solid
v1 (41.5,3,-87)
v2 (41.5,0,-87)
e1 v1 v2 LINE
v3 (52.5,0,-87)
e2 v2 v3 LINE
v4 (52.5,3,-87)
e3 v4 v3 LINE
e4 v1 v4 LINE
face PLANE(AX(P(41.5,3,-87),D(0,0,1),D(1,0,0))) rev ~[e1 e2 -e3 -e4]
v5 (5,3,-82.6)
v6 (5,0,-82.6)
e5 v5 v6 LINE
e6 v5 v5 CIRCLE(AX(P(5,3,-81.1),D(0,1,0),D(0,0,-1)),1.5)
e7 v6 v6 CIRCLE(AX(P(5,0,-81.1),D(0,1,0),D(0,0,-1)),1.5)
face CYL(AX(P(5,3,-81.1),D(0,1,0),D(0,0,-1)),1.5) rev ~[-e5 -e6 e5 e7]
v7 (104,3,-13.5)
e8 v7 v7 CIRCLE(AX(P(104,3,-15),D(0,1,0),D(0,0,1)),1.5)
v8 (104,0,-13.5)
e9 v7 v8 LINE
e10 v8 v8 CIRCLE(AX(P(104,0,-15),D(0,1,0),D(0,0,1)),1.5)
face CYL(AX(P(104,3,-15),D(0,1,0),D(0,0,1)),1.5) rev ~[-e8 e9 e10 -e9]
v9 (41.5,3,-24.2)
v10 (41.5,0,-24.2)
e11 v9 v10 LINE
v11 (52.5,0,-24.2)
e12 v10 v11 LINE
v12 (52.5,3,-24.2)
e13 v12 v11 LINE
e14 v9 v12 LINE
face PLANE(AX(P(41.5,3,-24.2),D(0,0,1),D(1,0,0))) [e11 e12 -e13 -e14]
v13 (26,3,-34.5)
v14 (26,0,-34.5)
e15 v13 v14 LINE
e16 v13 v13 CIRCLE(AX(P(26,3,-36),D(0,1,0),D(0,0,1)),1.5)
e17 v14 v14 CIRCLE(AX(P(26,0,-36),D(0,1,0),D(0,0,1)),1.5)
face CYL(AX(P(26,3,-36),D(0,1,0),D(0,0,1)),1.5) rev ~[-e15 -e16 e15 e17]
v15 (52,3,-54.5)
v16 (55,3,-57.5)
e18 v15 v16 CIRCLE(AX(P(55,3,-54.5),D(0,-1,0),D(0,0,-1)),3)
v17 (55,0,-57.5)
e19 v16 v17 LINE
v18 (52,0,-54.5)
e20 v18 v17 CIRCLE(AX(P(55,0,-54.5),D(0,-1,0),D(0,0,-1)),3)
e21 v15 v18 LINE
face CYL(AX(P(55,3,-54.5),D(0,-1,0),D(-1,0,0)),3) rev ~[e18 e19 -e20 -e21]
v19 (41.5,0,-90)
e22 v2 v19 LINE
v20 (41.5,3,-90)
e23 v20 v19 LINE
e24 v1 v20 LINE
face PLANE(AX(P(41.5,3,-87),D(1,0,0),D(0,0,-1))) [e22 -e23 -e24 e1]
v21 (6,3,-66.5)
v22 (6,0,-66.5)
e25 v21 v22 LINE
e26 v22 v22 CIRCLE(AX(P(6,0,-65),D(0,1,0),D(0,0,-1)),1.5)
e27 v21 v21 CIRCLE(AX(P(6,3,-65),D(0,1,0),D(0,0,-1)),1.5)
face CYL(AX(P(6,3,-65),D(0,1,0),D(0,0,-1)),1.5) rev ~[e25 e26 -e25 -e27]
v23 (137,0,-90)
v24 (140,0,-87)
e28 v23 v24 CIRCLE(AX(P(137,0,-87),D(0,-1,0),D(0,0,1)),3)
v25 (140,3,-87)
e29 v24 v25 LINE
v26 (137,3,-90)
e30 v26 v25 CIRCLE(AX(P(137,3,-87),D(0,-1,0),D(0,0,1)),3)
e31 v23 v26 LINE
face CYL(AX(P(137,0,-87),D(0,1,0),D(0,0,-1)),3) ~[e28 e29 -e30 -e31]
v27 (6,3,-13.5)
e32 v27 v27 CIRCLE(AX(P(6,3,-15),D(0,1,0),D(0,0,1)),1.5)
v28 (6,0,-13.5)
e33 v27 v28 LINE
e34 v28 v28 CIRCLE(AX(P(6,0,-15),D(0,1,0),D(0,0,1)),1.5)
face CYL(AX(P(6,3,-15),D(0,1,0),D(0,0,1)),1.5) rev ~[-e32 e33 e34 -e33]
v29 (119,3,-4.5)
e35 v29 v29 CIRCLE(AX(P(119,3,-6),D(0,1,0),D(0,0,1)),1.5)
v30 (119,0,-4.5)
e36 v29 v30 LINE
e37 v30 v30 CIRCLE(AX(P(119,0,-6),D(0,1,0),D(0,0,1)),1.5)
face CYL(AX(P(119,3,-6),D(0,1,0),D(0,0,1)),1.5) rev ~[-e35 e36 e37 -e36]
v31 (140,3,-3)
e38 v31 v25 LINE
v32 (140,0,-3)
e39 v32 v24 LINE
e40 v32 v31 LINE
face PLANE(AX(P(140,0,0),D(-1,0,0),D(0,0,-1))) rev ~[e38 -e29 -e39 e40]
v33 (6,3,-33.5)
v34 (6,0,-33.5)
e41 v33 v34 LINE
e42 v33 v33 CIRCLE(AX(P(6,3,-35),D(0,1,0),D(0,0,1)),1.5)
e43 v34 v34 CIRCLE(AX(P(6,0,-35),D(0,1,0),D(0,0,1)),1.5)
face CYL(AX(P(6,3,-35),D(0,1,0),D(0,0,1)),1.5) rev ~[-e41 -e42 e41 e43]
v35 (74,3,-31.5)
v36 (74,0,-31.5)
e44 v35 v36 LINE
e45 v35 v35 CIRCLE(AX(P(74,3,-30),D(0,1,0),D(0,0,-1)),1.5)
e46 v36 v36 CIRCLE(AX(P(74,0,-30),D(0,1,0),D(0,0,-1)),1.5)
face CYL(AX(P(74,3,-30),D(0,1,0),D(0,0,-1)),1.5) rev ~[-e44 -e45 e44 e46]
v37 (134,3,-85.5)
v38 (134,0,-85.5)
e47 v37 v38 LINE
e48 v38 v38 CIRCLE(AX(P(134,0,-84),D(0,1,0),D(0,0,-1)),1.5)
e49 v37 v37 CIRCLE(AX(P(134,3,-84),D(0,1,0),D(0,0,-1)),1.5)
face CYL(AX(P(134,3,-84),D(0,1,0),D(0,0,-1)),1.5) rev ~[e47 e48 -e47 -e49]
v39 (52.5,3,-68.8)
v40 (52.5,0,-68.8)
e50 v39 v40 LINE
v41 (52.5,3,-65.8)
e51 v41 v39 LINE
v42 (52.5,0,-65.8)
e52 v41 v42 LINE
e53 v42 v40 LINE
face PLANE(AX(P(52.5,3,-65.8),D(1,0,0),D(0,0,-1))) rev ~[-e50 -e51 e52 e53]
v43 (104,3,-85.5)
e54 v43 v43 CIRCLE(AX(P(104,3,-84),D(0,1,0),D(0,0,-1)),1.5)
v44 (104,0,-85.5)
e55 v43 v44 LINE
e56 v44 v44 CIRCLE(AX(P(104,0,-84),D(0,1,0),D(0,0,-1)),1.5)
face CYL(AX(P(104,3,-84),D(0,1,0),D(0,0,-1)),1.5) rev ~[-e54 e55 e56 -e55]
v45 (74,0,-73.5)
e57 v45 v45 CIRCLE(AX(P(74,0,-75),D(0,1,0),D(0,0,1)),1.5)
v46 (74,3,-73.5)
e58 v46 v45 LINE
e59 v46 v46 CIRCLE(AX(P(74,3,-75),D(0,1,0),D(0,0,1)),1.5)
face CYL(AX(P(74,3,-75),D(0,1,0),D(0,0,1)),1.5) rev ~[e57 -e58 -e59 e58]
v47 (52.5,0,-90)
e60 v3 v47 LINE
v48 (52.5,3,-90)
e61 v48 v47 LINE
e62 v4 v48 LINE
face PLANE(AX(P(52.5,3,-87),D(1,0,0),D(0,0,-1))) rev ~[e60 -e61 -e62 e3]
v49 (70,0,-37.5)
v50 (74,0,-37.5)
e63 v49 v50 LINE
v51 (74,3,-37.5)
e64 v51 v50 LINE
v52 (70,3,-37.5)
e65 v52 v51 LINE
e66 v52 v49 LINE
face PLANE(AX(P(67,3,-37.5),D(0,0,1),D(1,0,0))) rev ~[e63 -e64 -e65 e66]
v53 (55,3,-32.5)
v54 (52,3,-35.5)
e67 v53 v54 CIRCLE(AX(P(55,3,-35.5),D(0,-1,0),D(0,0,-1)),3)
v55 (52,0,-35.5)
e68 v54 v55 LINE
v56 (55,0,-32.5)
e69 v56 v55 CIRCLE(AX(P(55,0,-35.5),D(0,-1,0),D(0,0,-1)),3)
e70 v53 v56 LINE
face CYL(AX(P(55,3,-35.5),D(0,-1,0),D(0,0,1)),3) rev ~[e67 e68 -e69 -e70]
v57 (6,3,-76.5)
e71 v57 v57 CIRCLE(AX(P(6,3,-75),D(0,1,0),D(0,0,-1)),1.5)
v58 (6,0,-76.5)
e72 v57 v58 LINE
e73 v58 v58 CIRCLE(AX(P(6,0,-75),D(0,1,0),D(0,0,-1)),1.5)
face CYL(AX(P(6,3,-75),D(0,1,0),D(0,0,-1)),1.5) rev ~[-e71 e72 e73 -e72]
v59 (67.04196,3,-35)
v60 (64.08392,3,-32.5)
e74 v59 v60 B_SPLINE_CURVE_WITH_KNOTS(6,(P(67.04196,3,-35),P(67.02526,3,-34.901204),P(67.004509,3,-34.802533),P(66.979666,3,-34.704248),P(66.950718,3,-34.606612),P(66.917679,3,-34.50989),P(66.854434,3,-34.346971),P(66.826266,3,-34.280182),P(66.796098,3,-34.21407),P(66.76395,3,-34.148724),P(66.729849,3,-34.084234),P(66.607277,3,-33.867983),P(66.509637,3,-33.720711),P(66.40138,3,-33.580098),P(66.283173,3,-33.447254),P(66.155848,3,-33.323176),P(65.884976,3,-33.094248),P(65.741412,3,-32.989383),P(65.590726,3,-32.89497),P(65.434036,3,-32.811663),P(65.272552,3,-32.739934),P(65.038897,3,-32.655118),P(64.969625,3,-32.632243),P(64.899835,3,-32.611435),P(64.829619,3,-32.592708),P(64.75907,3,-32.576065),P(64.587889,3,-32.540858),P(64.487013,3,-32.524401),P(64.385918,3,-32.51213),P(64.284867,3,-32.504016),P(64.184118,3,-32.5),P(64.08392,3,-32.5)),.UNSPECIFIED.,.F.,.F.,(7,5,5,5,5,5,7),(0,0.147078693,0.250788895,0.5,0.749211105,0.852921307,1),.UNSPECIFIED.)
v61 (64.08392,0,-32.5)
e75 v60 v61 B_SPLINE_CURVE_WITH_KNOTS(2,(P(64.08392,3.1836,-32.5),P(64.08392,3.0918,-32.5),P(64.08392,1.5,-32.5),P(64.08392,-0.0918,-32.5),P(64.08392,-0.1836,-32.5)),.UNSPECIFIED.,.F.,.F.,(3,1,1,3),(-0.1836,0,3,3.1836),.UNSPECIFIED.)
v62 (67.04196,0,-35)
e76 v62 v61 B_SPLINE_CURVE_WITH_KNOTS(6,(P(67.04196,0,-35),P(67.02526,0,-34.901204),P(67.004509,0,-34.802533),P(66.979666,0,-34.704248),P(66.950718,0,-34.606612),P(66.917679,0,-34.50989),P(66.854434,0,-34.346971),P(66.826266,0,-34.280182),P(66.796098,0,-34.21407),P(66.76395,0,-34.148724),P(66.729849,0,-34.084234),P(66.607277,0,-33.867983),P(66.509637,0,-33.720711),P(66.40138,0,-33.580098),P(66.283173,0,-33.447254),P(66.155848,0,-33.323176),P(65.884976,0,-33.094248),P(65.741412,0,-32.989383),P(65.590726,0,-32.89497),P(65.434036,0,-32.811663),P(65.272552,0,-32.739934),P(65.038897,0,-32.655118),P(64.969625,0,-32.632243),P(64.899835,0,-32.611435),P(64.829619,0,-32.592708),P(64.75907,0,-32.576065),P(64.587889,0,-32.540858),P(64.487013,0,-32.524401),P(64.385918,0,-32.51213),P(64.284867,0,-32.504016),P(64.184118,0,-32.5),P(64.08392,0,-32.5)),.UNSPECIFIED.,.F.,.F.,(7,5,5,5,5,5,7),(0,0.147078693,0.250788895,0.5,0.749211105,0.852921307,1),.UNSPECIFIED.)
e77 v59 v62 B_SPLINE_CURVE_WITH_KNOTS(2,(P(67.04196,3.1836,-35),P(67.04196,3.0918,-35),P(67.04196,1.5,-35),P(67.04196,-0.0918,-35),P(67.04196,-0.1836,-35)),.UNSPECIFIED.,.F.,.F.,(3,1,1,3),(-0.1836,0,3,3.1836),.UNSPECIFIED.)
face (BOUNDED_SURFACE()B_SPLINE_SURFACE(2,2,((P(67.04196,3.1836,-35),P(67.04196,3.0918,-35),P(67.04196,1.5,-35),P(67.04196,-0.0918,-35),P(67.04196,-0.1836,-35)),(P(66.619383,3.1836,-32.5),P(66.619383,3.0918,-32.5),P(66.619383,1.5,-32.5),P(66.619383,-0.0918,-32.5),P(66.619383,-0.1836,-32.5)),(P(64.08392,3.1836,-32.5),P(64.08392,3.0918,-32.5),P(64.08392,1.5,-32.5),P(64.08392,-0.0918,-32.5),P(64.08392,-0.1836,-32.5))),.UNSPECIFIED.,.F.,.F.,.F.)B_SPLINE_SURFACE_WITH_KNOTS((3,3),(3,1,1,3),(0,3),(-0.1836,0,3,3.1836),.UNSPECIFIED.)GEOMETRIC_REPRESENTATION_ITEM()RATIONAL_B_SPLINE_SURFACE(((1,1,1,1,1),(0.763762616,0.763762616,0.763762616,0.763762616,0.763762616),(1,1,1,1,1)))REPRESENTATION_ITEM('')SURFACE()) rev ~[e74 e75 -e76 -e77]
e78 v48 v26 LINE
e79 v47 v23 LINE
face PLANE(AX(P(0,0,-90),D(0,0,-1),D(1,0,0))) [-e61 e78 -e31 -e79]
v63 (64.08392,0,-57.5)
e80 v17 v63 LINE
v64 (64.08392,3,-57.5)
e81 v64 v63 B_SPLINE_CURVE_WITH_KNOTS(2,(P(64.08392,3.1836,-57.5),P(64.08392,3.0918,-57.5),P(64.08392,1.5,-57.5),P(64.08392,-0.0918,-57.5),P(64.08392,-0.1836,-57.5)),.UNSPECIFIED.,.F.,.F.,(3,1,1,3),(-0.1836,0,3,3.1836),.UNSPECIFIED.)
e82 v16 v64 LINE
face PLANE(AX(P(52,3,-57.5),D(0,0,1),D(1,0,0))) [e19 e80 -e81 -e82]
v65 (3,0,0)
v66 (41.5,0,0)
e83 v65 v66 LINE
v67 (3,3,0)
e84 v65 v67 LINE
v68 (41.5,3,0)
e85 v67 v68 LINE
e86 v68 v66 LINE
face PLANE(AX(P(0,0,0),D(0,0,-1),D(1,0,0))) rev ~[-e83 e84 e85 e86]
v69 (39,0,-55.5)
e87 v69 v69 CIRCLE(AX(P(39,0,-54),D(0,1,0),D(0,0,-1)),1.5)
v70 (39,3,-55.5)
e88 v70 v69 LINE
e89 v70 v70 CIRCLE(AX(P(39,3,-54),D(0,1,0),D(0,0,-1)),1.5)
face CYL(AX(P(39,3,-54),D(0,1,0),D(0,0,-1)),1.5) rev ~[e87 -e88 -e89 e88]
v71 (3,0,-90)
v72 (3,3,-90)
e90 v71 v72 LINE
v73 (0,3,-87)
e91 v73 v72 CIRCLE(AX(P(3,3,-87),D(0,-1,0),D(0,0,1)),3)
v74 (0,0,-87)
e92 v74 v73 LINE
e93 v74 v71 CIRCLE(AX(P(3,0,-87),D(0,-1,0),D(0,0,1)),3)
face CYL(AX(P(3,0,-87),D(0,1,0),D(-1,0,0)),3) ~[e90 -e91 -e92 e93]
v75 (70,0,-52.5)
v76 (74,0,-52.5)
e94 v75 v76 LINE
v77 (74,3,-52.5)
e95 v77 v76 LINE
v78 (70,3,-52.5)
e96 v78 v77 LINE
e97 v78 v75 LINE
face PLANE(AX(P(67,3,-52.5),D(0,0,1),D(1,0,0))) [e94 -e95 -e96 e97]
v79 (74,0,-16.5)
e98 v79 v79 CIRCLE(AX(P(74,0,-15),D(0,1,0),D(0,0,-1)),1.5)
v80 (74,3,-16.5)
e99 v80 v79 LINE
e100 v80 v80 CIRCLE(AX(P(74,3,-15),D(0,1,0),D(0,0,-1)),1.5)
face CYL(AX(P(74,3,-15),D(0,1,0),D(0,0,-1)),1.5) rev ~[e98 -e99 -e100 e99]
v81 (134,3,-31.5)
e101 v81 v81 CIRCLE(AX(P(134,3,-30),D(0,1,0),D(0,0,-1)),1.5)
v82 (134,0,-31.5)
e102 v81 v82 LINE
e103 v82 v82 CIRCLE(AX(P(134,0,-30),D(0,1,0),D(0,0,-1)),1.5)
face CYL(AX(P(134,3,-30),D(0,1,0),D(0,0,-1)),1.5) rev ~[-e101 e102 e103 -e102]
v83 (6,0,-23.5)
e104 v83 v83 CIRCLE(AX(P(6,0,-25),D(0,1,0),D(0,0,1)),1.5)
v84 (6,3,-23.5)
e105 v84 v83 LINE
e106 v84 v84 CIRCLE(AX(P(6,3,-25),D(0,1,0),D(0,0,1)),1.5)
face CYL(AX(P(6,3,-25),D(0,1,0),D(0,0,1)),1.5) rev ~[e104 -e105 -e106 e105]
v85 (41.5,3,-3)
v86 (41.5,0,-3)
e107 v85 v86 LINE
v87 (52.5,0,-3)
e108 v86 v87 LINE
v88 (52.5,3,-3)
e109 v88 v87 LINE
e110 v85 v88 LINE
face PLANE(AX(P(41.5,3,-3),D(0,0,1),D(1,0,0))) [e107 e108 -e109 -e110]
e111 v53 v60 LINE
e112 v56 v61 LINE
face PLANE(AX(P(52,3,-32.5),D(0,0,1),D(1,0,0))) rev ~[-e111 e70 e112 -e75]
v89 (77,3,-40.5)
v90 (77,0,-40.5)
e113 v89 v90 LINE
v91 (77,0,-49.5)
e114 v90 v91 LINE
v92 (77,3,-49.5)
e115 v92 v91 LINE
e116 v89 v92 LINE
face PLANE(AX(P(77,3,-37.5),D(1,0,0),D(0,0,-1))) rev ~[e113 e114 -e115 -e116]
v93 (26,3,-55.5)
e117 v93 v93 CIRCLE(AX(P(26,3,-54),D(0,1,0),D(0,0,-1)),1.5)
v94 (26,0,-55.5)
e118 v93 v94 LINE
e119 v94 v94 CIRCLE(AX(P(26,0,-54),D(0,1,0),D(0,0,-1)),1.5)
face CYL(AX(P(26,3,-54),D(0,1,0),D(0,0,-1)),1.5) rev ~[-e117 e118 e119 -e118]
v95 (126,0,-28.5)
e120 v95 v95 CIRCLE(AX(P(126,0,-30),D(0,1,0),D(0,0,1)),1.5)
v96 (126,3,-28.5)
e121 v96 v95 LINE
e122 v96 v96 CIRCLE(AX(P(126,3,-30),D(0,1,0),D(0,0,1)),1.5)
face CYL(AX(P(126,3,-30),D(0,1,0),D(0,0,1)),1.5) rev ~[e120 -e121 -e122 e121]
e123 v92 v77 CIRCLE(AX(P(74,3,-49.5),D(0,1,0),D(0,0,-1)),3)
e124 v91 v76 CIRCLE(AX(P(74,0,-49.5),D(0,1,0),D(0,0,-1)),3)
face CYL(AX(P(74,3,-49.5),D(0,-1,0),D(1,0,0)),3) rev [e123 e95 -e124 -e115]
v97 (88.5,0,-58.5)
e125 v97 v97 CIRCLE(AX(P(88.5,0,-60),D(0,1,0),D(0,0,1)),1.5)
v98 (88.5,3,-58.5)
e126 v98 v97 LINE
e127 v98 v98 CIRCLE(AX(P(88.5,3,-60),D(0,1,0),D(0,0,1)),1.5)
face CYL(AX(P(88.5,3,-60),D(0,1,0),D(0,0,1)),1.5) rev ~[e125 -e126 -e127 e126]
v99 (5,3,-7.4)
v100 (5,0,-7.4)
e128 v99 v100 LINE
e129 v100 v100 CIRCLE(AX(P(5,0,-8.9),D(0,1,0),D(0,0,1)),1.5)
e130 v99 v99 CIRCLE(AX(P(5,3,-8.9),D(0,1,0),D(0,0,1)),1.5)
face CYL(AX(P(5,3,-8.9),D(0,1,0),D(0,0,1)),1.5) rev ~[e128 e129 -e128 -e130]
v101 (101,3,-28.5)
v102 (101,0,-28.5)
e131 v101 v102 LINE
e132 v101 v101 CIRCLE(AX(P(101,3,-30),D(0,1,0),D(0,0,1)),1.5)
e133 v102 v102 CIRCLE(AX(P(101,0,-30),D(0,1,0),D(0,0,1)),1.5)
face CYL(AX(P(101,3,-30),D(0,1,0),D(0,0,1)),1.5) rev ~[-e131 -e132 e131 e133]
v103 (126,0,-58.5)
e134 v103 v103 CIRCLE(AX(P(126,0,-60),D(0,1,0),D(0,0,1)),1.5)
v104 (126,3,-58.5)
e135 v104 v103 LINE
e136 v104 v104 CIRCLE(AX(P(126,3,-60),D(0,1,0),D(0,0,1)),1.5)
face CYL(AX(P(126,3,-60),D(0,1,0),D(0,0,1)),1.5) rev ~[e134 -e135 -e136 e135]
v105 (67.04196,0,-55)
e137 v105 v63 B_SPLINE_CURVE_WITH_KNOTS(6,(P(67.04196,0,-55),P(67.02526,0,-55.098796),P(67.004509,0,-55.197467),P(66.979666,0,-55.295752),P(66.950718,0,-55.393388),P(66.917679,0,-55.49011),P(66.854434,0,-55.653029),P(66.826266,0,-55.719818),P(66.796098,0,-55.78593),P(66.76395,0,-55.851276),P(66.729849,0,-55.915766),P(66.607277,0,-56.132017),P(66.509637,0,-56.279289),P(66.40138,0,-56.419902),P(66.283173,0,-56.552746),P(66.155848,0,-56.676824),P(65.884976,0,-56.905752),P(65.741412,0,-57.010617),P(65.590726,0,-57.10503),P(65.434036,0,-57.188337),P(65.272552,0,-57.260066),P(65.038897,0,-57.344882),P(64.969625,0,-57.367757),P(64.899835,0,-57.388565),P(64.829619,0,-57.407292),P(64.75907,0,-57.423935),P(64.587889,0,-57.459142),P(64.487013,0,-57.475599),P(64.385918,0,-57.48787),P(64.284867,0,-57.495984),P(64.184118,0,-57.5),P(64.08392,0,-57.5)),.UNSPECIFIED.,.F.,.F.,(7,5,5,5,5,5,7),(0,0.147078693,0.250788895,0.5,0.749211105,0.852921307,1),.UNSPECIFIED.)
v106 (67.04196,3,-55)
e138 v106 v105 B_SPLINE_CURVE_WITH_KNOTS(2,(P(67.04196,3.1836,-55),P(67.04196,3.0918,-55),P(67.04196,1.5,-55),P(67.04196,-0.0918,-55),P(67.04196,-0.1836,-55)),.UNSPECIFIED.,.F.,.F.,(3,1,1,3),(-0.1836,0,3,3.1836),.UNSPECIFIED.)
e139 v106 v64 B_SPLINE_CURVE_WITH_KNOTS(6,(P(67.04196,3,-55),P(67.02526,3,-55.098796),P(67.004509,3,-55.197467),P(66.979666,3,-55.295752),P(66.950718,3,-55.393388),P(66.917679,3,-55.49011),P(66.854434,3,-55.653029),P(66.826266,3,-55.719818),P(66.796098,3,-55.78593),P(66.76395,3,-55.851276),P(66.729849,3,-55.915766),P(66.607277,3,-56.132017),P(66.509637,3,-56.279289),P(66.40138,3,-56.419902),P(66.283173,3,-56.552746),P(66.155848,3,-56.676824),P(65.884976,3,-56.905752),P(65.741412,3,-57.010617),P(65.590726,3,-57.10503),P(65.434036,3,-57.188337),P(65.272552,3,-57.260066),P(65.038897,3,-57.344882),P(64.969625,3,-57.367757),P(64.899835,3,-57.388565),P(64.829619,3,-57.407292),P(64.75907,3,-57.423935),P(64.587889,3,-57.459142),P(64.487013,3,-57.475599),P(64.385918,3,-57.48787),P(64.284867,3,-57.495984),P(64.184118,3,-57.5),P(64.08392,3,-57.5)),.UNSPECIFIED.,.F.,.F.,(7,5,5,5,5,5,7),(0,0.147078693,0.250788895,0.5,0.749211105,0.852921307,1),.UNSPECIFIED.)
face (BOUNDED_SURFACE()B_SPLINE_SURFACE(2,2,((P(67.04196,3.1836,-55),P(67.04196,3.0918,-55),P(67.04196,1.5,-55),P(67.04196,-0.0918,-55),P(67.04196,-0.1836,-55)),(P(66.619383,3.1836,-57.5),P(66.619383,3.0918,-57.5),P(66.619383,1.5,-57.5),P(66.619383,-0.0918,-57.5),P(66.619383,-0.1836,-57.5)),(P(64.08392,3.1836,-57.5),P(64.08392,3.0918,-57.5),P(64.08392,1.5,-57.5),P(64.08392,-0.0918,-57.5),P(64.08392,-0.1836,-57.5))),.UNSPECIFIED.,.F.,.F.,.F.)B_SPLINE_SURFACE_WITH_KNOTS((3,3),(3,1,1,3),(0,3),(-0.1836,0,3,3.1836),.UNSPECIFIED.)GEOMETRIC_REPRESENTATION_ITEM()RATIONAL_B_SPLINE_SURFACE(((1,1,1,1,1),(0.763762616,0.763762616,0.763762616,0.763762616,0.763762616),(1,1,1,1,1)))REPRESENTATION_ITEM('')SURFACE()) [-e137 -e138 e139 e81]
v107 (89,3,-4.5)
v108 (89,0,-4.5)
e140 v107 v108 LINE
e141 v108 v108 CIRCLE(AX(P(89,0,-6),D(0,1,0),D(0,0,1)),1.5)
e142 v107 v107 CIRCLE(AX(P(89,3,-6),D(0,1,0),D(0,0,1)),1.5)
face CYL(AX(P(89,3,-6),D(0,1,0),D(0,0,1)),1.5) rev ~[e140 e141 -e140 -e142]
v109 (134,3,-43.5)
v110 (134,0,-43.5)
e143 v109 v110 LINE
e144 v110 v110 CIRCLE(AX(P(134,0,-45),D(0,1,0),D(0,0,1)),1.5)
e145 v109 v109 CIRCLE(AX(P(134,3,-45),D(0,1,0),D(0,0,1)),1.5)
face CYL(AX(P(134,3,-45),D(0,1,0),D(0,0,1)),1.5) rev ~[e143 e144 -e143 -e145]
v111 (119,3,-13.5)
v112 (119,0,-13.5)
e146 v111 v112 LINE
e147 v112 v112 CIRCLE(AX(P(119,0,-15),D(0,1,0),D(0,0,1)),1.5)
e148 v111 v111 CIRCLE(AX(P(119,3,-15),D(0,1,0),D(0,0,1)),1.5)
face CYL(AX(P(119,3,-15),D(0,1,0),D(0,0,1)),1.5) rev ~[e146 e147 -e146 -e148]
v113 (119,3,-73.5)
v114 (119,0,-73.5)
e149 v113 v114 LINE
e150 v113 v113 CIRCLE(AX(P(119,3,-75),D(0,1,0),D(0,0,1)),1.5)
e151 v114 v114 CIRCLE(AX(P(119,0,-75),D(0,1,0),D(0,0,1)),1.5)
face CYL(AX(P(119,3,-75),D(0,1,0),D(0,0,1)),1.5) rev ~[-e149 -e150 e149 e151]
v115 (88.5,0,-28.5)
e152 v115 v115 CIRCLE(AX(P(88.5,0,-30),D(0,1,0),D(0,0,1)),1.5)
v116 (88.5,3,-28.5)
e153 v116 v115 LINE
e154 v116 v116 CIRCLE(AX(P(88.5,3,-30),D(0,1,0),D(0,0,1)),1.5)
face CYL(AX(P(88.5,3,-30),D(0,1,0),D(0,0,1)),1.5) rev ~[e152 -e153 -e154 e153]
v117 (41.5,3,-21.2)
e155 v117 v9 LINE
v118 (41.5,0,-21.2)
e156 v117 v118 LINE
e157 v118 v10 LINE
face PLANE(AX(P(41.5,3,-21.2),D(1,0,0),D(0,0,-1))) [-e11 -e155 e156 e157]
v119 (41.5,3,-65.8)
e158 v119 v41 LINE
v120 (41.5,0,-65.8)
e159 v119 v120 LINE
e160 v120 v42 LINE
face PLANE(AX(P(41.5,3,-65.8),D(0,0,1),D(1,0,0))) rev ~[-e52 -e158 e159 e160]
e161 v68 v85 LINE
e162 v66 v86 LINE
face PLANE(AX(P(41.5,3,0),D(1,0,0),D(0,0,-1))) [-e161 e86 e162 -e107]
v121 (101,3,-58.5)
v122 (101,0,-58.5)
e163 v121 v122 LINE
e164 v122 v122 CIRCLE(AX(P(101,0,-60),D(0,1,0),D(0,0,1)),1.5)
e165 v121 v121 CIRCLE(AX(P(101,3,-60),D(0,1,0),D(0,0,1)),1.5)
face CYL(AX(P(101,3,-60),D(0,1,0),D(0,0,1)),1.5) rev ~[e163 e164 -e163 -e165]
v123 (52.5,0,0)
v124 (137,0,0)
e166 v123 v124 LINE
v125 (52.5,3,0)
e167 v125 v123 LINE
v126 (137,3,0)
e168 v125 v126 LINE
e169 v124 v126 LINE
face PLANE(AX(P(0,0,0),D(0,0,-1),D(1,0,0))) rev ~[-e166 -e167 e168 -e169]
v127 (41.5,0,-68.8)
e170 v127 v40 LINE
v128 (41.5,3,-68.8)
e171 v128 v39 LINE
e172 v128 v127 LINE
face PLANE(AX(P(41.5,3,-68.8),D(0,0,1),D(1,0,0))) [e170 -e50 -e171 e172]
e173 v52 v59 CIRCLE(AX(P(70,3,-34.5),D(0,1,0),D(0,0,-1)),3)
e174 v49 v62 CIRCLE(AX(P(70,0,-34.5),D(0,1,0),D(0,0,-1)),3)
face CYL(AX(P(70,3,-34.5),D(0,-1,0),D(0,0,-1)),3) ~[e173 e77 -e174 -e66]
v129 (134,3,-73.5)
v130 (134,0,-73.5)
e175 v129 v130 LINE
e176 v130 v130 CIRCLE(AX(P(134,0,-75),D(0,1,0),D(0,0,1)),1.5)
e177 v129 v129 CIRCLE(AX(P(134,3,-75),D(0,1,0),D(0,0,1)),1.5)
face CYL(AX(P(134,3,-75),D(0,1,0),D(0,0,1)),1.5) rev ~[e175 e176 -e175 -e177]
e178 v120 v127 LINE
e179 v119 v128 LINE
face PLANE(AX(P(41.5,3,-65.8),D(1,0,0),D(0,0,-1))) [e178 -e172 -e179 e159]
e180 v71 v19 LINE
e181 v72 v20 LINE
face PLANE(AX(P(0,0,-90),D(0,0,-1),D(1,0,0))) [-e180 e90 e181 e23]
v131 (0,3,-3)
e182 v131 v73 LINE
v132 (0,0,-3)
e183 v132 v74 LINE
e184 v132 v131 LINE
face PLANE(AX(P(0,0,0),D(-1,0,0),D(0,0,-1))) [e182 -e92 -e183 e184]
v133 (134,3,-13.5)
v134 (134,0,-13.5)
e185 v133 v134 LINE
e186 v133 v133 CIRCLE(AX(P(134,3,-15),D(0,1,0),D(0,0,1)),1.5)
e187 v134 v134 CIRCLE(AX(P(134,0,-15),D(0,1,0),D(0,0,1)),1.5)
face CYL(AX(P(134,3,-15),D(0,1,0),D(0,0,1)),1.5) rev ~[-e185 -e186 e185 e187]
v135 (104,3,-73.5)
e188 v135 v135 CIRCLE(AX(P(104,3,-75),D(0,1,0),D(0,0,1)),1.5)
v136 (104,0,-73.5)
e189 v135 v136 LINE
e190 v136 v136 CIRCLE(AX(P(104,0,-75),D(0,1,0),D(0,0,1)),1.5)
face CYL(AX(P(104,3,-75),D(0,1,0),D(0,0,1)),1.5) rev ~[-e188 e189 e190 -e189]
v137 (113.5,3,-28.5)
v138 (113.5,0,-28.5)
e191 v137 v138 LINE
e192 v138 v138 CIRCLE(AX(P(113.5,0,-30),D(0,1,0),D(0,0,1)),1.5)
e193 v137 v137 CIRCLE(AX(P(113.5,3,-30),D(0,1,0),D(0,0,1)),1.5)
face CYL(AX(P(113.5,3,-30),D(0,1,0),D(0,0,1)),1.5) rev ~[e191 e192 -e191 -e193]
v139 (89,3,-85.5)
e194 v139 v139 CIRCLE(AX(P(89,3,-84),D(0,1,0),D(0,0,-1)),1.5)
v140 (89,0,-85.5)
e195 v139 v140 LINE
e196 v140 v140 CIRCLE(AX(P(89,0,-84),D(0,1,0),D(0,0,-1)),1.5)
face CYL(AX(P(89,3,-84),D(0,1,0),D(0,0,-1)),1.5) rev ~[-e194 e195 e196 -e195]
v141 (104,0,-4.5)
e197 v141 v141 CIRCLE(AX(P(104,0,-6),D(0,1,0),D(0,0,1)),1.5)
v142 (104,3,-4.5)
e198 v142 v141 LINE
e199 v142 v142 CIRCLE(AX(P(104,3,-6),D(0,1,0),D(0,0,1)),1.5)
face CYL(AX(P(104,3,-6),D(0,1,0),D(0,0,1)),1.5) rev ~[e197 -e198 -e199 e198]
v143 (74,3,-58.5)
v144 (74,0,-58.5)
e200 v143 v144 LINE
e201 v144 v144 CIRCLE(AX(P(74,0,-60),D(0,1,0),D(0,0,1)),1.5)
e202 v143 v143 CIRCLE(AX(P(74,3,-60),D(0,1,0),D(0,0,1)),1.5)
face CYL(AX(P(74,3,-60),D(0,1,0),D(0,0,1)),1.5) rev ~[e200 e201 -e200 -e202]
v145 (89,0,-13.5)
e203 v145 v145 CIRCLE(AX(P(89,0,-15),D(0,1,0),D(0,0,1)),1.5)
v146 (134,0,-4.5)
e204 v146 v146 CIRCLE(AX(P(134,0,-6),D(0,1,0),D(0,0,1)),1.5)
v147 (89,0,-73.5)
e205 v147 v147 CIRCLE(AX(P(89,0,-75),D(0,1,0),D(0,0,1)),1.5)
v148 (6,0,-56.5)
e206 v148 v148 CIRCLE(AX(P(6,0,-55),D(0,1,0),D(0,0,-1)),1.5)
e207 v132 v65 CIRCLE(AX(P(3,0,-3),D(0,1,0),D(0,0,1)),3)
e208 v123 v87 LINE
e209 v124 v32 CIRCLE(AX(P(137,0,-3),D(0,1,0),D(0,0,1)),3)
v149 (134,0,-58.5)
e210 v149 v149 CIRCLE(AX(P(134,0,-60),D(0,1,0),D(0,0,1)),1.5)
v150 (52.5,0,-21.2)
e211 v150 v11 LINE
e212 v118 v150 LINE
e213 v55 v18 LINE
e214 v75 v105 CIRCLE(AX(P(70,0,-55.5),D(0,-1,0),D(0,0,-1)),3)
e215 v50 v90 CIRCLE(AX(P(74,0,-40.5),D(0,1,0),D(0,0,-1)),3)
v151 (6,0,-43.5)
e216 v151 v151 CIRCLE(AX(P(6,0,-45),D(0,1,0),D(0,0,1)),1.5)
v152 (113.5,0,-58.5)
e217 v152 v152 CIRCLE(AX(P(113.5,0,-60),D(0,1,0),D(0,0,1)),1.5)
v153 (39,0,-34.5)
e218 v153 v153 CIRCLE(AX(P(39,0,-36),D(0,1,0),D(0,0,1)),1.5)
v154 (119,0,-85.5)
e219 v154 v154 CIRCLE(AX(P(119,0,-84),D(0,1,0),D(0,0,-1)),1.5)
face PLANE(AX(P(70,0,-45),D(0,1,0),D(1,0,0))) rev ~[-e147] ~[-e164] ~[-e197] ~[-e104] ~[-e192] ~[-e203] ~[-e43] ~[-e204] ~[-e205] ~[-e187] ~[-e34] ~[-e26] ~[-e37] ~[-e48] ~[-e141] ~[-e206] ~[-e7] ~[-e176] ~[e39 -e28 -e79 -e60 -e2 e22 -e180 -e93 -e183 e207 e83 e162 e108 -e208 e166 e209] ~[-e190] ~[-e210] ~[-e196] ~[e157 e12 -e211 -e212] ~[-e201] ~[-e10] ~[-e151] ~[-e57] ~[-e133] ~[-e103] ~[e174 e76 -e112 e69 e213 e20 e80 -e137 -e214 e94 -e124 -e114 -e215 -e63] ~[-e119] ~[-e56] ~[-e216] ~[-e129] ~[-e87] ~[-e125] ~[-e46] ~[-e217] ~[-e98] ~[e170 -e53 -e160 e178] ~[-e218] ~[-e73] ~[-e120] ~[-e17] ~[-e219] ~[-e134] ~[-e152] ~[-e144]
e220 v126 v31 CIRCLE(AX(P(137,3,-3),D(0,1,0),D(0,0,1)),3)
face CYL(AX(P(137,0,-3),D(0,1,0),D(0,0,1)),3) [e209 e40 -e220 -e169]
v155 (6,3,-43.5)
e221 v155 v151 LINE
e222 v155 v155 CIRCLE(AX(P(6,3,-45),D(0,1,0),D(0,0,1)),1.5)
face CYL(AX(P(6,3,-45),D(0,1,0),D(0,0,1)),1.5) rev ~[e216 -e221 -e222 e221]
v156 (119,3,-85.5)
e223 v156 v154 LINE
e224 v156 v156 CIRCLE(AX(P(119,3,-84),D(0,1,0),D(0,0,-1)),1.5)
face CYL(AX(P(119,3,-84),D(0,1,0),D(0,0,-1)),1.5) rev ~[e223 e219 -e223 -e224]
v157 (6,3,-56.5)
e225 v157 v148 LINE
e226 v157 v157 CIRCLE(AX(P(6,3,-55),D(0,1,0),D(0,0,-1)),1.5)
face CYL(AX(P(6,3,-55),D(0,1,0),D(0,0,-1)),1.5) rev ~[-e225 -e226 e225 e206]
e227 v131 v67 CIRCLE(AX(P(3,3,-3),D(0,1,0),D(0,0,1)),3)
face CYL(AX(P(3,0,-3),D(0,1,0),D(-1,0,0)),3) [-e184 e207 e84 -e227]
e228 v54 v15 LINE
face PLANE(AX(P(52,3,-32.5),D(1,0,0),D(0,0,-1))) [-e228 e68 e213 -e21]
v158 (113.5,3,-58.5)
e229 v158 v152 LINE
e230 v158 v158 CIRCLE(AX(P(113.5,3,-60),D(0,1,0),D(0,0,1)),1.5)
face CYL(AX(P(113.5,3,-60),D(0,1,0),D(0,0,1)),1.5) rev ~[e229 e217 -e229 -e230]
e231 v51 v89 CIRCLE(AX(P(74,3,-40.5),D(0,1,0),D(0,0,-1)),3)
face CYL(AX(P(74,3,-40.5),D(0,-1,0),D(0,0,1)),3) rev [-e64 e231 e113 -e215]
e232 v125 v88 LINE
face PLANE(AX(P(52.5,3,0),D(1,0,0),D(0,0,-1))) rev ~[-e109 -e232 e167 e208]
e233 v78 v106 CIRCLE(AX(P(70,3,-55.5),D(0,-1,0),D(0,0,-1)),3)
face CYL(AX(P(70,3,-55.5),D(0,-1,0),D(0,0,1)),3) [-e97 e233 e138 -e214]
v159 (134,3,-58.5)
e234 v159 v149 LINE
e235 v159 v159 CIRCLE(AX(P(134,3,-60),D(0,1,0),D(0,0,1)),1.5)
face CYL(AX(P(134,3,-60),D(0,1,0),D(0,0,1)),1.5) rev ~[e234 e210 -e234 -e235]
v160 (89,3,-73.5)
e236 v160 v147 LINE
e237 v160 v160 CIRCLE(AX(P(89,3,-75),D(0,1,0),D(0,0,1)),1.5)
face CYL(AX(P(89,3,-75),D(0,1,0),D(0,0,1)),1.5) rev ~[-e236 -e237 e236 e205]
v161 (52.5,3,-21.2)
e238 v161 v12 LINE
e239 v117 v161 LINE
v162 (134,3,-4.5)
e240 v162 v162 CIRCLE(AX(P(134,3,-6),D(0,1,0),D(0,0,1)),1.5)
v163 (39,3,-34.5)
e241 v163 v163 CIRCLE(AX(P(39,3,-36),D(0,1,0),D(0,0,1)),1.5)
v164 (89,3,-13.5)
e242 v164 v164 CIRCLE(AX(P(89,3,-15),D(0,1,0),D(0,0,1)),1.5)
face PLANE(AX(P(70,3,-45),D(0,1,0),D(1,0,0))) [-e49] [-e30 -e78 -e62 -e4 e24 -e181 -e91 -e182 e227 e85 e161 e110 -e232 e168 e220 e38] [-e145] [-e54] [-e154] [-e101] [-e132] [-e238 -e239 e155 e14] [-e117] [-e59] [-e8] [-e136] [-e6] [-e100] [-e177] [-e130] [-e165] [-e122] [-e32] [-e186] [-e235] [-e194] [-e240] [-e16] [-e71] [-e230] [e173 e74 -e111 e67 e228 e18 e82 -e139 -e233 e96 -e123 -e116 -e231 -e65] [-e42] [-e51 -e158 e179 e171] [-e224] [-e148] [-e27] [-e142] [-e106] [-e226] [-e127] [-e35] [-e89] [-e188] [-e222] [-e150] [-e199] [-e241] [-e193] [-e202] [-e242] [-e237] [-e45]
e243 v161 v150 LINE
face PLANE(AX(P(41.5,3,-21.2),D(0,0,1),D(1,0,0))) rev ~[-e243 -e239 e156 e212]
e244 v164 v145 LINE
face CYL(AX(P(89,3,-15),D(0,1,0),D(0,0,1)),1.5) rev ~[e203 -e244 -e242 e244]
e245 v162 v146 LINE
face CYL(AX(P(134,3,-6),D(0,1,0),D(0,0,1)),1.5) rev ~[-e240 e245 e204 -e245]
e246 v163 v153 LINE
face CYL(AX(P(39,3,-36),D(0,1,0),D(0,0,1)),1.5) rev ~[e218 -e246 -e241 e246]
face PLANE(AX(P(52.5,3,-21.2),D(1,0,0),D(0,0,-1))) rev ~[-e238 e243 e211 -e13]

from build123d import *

# Parameters (mm, degrees)
SKETCH1_W           = 140
SKETCH1_H           = 90
PLAIN_BOARD_DEPTH   = 3
SKETCH2_W           = 11
SKETCH2_H           = 3
MOTOR_MOUNT_DEPTH   = 3
SKETCH3_R           = 1.5
CASTER_DEPTH        = 3
SKETCH4_R           = 1.5
PCBS_DEPTH          = 3
SKETCH5_W           = 10
SKETCH5_H           = 15
SKETCH5_W_2         = 15
SKETCH5_H_2         = 25
CABLE_HOLE_DEPTH    = 3
SKETCH6_R           = 1.5
SERVO_BOARD_DEPTH   = 3
SKETCH7_R           = 1.5
SENSOR_HOLES_DEPTH  = 3
SKETCH8_R           = 1.5
SERVO_BOARD_2_DEPTH = 3
FILLET1_R           = 3
FILLET3_R           = 3


with BuildPart() as part:
    # Sketch1 → Plain Board (new body)
    with BuildSketch(Plane(origin=(0, 0, 0), x_dir=(1, 0, 0), z_dir=(0, 1, 0))):
        with Locations((70, 45)):
            Rectangle(SKETCH1_W, SKETCH1_H)
    extrude(amount=PLAIN_BOARD_DEPTH)

    # Sketch2 → Motor Mount (cut)
    with BuildSketch(Plane(origin=(0, 3, 0), x_dir=(1, 0, 0), z_dir=(0, 1, 0))):
        with Locations((47, 1.5)):
            Rectangle(SKETCH2_W, SKETCH2_H)
        with Locations((47, 22.7)):
            Rectangle(SKETCH2_W, SKETCH2_H)
        with Locations((47, 67.3)):
            Rectangle(SKETCH2_W, SKETCH2_H)
        with Locations((47, 88.5)):
            Rectangle(SKETCH2_W, SKETCH2_H)
    extrude(amount=-MOTOR_MOUNT_DEPTH, mode=Mode.SUBTRACT)

    # Sketch3 → Caster (cut)
    with BuildSketch(Plane(origin=(0, 3, 0), x_dir=(1, 0, 0), z_dir=(0, 1, 0))):
        with Locations(Location((126, 60, 0), (0, 0, 270))):
            Circle(SKETCH3_R)
        with Locations(Location((113.5, 60, 0), (0, 0, 270))):
            Circle(SKETCH3_R)
        with Locations(Location((101, 60, 0), (0, 0, 270))):
            Circle(SKETCH3_R)
        with Locations(Location((88.5, 60, 0), (0, 0, 270))):
            Circle(SKETCH3_R)
        with Locations(Location((113.5, 30, 0), (0, 0, 270))):
            Circle(SKETCH3_R)
        with Locations(Location((101, 30, 0), (0, 0, 270))):
            Circle(SKETCH3_R)
        with Locations(Location((88.5, 30, 0), (0, 0, 270))):
            Circle(SKETCH3_R)
        with Locations(Location((126, 30, 0), (0, 0, 270))):
            Circle(SKETCH3_R)
    extrude(amount=-CASTER_DEPTH, mode=Mode.SUBTRACT)

    # Sketch4 → PCBs (cut)
    with BuildSketch(Plane(origin=(0, 3, 0), x_dir=(1, 0, 0), z_dir=(0, 1, 0))):
        with Locations(Location((5, 8.9, 0), (0, 0, 270))):
            Circle(SKETCH4_R)
        with Locations(Location((26, 36, 0), (0, 0, 270))):
            Circle(SKETCH4_R)
        with Locations(Location((39, 36, 0), (0, 0, 270))):
            Circle(SKETCH4_R)
        with Locations(Location((5, 81.1, 0), (0, 0, 90))):
            Circle(SKETCH4_R)
        with Locations(Location((39, 54, 0), (0, 0, 90))):
            Circle(SKETCH4_R)
        with Locations(Location((26, 54, 0), (0, 0, 90))):
            Circle(SKETCH4_R)
    extrude(amount=-PCBS_DEPTH, mode=Mode.SUBTRACT)

    # Sketch5 → Cable Hole (cut)
    with BuildSketch(Plane(origin=(0, 3, 0), x_dir=(1, 0, 0), z_dir=(0, 1, 0))):
        with Locations((72, 45)):
            Rectangle(SKETCH5_W, SKETCH5_H)
        with Locations((59.5, 45)):
            Rectangle(SKETCH5_W_2, SKETCH5_H_2)
    extrude(amount=-CABLE_HOLE_DEPTH, mode=Mode.SUBTRACT)

    # Sketch6 → Servo Board (cut)
    with BuildSketch(Plane(origin=(0, 3, 0), x_dir=(1, 0, 0), z_dir=(0, 1, 0))):
        with Locations(Location((134, 15, 0), (0, 0, 270))):
            Circle(SKETCH6_R)
        with Locations(Location((119, 15, 0), (0, 0, 270))):
            Circle(SKETCH6_R)
        with Locations(Location((104, 15, 0), (0, 0, 270))):
            Circle(SKETCH6_R)
        with Locations(Location((89, 15, 0), (0, 0, 270))):
            Circle(SKETCH6_R)
        with Locations(Location((119, 75, 0), (0, 0, 270))):
            Circle(SKETCH6_R)
        with Locations(Location((104, 75, 0), (0, 0, 270))):
            Circle(SKETCH6_R)
        with Locations(Location((89, 75, 0), (0, 0, 270))):
            Circle(SKETCH6_R)
        with Locations(Location((134, 75, 0), (0, 0, 270))):
            Circle(SKETCH6_R)
    extrude(amount=-SERVO_BOARD_DEPTH, mode=Mode.SUBTRACT)

    # Sketch7 → Sensor Holes (cut)
    with BuildSketch(Plane(origin=(0, 3, 0), x_dir=(1, 0, 0), z_dir=(0, 1, 0))):
        with Locations(Location((134, 45, 0), (0, 0, 270))):
            Circle(SKETCH7_R)
        with Locations(Location((134, 6, 0), (0, 0, 270))):
            Circle(SKETCH7_R)
        with Locations(Location((119, 6, 0), (0, 0, 270))):
            Circle(SKETCH7_R)
        with Locations(Location((104, 6, 0), (0, 0, 270))):
            Circle(SKETCH7_R)
        with Locations(Location((89, 6, 0), (0, 0, 270))):
            Circle(SKETCH7_R)
        with Locations(Location((134, 60, 0), (0, 0, 270))):
            Circle(SKETCH7_R)
        with Locations(Location((134, 30, 0), (0, 0, 90))):
            Circle(SKETCH7_R)
        with Locations(Location((6, 45, 0), (0, 0, 270))):
            Circle(SKETCH7_R)
        with Locations(Location((6, 35, 0), (0, 0, 270))):
            Circle(SKETCH7_R)
        with Locations(Location((6, 25, 0), (0, 0, 270))):
            Circle(SKETCH7_R)
        with Locations(Location((6, 15, 0), (0, 0, 270))):
            Circle(SKETCH7_R)
        with Locations(Location((89, 84, 0), (0, 0, 90))):
            Circle(SKETCH7_R)
        with Locations(Location((104, 84, 0), (0, 0, 90))):
            Circle(SKETCH7_R)
        with Locations(Location((119, 84, 0), (0, 0, 90))):
            Circle(SKETCH7_R)
        with Locations(Location((134, 84, 0), (0, 0, 90))):
            Circle(SKETCH7_R)
        with Locations(Location((6, 75, 0), (0, 0, 90))):
            Circle(SKETCH7_R)
        with Locations(Location((6, 65, 0), (0, 0, 90))):
            Circle(SKETCH7_R)
        with Locations(Location((6, 55, 0), (0, 0, 90))):
            Circle(SKETCH7_R)
    extrude(amount=-SENSOR_HOLES_DEPTH, mode=Mode.SUBTRACT)

    # Sketch8 → Servo Board(2) (cut)
    with BuildSketch(Plane(origin=(0, 3, 0), x_dir=(1, 0, 0), z_dir=(0, 1, 0))):
        with Locations(Location((74, 60, 0), (0, 0, 270))):
            Circle(SKETCH8_R)
        with Locations(Location((74, 75, 0), (0, 0, 270))):
            Circle(SKETCH8_R)
        with Locations(Location((74, 15, 0), (0, 0, 90))):
            Circle(SKETCH8_R)
        with Locations(Location((74, 30, 0), (0, 0, 90))):
            Circle(SKETCH8_R)
    extrude(amount=-SERVO_BOARD_2_DEPTH, mode=Mode.SUBTRACT)

    # Fillet1
    fillet1_edges = [part.edges().sort_by_distance(p)[0] for p in [
        (77, 1.5, -52.5),
        (77, 1.5, -37.5),
        (67, 1.5, -37.5),
        (52, 1.5, -32.5),
        (52, 1.5, -57.5),
        (67, 1.5, -52.5),
        (0, 1.5, -90),
    ]]
    fillet(fillet1_edges, radius=FILLET1_R)

    # Fillet3
    fillet3_edges = [part.edges().sort_by_distance(p)[0] for p in [
        (140, 1.5, -90),
        (140, 1.5, 0),
        (0, 1.5, 0),
        (67, 1.5, -57.5),
        (67, 1.5, -32.5),
    ]]
    fillet(fillet3_edges, radius=FILLET3_R)


solid = part.part
